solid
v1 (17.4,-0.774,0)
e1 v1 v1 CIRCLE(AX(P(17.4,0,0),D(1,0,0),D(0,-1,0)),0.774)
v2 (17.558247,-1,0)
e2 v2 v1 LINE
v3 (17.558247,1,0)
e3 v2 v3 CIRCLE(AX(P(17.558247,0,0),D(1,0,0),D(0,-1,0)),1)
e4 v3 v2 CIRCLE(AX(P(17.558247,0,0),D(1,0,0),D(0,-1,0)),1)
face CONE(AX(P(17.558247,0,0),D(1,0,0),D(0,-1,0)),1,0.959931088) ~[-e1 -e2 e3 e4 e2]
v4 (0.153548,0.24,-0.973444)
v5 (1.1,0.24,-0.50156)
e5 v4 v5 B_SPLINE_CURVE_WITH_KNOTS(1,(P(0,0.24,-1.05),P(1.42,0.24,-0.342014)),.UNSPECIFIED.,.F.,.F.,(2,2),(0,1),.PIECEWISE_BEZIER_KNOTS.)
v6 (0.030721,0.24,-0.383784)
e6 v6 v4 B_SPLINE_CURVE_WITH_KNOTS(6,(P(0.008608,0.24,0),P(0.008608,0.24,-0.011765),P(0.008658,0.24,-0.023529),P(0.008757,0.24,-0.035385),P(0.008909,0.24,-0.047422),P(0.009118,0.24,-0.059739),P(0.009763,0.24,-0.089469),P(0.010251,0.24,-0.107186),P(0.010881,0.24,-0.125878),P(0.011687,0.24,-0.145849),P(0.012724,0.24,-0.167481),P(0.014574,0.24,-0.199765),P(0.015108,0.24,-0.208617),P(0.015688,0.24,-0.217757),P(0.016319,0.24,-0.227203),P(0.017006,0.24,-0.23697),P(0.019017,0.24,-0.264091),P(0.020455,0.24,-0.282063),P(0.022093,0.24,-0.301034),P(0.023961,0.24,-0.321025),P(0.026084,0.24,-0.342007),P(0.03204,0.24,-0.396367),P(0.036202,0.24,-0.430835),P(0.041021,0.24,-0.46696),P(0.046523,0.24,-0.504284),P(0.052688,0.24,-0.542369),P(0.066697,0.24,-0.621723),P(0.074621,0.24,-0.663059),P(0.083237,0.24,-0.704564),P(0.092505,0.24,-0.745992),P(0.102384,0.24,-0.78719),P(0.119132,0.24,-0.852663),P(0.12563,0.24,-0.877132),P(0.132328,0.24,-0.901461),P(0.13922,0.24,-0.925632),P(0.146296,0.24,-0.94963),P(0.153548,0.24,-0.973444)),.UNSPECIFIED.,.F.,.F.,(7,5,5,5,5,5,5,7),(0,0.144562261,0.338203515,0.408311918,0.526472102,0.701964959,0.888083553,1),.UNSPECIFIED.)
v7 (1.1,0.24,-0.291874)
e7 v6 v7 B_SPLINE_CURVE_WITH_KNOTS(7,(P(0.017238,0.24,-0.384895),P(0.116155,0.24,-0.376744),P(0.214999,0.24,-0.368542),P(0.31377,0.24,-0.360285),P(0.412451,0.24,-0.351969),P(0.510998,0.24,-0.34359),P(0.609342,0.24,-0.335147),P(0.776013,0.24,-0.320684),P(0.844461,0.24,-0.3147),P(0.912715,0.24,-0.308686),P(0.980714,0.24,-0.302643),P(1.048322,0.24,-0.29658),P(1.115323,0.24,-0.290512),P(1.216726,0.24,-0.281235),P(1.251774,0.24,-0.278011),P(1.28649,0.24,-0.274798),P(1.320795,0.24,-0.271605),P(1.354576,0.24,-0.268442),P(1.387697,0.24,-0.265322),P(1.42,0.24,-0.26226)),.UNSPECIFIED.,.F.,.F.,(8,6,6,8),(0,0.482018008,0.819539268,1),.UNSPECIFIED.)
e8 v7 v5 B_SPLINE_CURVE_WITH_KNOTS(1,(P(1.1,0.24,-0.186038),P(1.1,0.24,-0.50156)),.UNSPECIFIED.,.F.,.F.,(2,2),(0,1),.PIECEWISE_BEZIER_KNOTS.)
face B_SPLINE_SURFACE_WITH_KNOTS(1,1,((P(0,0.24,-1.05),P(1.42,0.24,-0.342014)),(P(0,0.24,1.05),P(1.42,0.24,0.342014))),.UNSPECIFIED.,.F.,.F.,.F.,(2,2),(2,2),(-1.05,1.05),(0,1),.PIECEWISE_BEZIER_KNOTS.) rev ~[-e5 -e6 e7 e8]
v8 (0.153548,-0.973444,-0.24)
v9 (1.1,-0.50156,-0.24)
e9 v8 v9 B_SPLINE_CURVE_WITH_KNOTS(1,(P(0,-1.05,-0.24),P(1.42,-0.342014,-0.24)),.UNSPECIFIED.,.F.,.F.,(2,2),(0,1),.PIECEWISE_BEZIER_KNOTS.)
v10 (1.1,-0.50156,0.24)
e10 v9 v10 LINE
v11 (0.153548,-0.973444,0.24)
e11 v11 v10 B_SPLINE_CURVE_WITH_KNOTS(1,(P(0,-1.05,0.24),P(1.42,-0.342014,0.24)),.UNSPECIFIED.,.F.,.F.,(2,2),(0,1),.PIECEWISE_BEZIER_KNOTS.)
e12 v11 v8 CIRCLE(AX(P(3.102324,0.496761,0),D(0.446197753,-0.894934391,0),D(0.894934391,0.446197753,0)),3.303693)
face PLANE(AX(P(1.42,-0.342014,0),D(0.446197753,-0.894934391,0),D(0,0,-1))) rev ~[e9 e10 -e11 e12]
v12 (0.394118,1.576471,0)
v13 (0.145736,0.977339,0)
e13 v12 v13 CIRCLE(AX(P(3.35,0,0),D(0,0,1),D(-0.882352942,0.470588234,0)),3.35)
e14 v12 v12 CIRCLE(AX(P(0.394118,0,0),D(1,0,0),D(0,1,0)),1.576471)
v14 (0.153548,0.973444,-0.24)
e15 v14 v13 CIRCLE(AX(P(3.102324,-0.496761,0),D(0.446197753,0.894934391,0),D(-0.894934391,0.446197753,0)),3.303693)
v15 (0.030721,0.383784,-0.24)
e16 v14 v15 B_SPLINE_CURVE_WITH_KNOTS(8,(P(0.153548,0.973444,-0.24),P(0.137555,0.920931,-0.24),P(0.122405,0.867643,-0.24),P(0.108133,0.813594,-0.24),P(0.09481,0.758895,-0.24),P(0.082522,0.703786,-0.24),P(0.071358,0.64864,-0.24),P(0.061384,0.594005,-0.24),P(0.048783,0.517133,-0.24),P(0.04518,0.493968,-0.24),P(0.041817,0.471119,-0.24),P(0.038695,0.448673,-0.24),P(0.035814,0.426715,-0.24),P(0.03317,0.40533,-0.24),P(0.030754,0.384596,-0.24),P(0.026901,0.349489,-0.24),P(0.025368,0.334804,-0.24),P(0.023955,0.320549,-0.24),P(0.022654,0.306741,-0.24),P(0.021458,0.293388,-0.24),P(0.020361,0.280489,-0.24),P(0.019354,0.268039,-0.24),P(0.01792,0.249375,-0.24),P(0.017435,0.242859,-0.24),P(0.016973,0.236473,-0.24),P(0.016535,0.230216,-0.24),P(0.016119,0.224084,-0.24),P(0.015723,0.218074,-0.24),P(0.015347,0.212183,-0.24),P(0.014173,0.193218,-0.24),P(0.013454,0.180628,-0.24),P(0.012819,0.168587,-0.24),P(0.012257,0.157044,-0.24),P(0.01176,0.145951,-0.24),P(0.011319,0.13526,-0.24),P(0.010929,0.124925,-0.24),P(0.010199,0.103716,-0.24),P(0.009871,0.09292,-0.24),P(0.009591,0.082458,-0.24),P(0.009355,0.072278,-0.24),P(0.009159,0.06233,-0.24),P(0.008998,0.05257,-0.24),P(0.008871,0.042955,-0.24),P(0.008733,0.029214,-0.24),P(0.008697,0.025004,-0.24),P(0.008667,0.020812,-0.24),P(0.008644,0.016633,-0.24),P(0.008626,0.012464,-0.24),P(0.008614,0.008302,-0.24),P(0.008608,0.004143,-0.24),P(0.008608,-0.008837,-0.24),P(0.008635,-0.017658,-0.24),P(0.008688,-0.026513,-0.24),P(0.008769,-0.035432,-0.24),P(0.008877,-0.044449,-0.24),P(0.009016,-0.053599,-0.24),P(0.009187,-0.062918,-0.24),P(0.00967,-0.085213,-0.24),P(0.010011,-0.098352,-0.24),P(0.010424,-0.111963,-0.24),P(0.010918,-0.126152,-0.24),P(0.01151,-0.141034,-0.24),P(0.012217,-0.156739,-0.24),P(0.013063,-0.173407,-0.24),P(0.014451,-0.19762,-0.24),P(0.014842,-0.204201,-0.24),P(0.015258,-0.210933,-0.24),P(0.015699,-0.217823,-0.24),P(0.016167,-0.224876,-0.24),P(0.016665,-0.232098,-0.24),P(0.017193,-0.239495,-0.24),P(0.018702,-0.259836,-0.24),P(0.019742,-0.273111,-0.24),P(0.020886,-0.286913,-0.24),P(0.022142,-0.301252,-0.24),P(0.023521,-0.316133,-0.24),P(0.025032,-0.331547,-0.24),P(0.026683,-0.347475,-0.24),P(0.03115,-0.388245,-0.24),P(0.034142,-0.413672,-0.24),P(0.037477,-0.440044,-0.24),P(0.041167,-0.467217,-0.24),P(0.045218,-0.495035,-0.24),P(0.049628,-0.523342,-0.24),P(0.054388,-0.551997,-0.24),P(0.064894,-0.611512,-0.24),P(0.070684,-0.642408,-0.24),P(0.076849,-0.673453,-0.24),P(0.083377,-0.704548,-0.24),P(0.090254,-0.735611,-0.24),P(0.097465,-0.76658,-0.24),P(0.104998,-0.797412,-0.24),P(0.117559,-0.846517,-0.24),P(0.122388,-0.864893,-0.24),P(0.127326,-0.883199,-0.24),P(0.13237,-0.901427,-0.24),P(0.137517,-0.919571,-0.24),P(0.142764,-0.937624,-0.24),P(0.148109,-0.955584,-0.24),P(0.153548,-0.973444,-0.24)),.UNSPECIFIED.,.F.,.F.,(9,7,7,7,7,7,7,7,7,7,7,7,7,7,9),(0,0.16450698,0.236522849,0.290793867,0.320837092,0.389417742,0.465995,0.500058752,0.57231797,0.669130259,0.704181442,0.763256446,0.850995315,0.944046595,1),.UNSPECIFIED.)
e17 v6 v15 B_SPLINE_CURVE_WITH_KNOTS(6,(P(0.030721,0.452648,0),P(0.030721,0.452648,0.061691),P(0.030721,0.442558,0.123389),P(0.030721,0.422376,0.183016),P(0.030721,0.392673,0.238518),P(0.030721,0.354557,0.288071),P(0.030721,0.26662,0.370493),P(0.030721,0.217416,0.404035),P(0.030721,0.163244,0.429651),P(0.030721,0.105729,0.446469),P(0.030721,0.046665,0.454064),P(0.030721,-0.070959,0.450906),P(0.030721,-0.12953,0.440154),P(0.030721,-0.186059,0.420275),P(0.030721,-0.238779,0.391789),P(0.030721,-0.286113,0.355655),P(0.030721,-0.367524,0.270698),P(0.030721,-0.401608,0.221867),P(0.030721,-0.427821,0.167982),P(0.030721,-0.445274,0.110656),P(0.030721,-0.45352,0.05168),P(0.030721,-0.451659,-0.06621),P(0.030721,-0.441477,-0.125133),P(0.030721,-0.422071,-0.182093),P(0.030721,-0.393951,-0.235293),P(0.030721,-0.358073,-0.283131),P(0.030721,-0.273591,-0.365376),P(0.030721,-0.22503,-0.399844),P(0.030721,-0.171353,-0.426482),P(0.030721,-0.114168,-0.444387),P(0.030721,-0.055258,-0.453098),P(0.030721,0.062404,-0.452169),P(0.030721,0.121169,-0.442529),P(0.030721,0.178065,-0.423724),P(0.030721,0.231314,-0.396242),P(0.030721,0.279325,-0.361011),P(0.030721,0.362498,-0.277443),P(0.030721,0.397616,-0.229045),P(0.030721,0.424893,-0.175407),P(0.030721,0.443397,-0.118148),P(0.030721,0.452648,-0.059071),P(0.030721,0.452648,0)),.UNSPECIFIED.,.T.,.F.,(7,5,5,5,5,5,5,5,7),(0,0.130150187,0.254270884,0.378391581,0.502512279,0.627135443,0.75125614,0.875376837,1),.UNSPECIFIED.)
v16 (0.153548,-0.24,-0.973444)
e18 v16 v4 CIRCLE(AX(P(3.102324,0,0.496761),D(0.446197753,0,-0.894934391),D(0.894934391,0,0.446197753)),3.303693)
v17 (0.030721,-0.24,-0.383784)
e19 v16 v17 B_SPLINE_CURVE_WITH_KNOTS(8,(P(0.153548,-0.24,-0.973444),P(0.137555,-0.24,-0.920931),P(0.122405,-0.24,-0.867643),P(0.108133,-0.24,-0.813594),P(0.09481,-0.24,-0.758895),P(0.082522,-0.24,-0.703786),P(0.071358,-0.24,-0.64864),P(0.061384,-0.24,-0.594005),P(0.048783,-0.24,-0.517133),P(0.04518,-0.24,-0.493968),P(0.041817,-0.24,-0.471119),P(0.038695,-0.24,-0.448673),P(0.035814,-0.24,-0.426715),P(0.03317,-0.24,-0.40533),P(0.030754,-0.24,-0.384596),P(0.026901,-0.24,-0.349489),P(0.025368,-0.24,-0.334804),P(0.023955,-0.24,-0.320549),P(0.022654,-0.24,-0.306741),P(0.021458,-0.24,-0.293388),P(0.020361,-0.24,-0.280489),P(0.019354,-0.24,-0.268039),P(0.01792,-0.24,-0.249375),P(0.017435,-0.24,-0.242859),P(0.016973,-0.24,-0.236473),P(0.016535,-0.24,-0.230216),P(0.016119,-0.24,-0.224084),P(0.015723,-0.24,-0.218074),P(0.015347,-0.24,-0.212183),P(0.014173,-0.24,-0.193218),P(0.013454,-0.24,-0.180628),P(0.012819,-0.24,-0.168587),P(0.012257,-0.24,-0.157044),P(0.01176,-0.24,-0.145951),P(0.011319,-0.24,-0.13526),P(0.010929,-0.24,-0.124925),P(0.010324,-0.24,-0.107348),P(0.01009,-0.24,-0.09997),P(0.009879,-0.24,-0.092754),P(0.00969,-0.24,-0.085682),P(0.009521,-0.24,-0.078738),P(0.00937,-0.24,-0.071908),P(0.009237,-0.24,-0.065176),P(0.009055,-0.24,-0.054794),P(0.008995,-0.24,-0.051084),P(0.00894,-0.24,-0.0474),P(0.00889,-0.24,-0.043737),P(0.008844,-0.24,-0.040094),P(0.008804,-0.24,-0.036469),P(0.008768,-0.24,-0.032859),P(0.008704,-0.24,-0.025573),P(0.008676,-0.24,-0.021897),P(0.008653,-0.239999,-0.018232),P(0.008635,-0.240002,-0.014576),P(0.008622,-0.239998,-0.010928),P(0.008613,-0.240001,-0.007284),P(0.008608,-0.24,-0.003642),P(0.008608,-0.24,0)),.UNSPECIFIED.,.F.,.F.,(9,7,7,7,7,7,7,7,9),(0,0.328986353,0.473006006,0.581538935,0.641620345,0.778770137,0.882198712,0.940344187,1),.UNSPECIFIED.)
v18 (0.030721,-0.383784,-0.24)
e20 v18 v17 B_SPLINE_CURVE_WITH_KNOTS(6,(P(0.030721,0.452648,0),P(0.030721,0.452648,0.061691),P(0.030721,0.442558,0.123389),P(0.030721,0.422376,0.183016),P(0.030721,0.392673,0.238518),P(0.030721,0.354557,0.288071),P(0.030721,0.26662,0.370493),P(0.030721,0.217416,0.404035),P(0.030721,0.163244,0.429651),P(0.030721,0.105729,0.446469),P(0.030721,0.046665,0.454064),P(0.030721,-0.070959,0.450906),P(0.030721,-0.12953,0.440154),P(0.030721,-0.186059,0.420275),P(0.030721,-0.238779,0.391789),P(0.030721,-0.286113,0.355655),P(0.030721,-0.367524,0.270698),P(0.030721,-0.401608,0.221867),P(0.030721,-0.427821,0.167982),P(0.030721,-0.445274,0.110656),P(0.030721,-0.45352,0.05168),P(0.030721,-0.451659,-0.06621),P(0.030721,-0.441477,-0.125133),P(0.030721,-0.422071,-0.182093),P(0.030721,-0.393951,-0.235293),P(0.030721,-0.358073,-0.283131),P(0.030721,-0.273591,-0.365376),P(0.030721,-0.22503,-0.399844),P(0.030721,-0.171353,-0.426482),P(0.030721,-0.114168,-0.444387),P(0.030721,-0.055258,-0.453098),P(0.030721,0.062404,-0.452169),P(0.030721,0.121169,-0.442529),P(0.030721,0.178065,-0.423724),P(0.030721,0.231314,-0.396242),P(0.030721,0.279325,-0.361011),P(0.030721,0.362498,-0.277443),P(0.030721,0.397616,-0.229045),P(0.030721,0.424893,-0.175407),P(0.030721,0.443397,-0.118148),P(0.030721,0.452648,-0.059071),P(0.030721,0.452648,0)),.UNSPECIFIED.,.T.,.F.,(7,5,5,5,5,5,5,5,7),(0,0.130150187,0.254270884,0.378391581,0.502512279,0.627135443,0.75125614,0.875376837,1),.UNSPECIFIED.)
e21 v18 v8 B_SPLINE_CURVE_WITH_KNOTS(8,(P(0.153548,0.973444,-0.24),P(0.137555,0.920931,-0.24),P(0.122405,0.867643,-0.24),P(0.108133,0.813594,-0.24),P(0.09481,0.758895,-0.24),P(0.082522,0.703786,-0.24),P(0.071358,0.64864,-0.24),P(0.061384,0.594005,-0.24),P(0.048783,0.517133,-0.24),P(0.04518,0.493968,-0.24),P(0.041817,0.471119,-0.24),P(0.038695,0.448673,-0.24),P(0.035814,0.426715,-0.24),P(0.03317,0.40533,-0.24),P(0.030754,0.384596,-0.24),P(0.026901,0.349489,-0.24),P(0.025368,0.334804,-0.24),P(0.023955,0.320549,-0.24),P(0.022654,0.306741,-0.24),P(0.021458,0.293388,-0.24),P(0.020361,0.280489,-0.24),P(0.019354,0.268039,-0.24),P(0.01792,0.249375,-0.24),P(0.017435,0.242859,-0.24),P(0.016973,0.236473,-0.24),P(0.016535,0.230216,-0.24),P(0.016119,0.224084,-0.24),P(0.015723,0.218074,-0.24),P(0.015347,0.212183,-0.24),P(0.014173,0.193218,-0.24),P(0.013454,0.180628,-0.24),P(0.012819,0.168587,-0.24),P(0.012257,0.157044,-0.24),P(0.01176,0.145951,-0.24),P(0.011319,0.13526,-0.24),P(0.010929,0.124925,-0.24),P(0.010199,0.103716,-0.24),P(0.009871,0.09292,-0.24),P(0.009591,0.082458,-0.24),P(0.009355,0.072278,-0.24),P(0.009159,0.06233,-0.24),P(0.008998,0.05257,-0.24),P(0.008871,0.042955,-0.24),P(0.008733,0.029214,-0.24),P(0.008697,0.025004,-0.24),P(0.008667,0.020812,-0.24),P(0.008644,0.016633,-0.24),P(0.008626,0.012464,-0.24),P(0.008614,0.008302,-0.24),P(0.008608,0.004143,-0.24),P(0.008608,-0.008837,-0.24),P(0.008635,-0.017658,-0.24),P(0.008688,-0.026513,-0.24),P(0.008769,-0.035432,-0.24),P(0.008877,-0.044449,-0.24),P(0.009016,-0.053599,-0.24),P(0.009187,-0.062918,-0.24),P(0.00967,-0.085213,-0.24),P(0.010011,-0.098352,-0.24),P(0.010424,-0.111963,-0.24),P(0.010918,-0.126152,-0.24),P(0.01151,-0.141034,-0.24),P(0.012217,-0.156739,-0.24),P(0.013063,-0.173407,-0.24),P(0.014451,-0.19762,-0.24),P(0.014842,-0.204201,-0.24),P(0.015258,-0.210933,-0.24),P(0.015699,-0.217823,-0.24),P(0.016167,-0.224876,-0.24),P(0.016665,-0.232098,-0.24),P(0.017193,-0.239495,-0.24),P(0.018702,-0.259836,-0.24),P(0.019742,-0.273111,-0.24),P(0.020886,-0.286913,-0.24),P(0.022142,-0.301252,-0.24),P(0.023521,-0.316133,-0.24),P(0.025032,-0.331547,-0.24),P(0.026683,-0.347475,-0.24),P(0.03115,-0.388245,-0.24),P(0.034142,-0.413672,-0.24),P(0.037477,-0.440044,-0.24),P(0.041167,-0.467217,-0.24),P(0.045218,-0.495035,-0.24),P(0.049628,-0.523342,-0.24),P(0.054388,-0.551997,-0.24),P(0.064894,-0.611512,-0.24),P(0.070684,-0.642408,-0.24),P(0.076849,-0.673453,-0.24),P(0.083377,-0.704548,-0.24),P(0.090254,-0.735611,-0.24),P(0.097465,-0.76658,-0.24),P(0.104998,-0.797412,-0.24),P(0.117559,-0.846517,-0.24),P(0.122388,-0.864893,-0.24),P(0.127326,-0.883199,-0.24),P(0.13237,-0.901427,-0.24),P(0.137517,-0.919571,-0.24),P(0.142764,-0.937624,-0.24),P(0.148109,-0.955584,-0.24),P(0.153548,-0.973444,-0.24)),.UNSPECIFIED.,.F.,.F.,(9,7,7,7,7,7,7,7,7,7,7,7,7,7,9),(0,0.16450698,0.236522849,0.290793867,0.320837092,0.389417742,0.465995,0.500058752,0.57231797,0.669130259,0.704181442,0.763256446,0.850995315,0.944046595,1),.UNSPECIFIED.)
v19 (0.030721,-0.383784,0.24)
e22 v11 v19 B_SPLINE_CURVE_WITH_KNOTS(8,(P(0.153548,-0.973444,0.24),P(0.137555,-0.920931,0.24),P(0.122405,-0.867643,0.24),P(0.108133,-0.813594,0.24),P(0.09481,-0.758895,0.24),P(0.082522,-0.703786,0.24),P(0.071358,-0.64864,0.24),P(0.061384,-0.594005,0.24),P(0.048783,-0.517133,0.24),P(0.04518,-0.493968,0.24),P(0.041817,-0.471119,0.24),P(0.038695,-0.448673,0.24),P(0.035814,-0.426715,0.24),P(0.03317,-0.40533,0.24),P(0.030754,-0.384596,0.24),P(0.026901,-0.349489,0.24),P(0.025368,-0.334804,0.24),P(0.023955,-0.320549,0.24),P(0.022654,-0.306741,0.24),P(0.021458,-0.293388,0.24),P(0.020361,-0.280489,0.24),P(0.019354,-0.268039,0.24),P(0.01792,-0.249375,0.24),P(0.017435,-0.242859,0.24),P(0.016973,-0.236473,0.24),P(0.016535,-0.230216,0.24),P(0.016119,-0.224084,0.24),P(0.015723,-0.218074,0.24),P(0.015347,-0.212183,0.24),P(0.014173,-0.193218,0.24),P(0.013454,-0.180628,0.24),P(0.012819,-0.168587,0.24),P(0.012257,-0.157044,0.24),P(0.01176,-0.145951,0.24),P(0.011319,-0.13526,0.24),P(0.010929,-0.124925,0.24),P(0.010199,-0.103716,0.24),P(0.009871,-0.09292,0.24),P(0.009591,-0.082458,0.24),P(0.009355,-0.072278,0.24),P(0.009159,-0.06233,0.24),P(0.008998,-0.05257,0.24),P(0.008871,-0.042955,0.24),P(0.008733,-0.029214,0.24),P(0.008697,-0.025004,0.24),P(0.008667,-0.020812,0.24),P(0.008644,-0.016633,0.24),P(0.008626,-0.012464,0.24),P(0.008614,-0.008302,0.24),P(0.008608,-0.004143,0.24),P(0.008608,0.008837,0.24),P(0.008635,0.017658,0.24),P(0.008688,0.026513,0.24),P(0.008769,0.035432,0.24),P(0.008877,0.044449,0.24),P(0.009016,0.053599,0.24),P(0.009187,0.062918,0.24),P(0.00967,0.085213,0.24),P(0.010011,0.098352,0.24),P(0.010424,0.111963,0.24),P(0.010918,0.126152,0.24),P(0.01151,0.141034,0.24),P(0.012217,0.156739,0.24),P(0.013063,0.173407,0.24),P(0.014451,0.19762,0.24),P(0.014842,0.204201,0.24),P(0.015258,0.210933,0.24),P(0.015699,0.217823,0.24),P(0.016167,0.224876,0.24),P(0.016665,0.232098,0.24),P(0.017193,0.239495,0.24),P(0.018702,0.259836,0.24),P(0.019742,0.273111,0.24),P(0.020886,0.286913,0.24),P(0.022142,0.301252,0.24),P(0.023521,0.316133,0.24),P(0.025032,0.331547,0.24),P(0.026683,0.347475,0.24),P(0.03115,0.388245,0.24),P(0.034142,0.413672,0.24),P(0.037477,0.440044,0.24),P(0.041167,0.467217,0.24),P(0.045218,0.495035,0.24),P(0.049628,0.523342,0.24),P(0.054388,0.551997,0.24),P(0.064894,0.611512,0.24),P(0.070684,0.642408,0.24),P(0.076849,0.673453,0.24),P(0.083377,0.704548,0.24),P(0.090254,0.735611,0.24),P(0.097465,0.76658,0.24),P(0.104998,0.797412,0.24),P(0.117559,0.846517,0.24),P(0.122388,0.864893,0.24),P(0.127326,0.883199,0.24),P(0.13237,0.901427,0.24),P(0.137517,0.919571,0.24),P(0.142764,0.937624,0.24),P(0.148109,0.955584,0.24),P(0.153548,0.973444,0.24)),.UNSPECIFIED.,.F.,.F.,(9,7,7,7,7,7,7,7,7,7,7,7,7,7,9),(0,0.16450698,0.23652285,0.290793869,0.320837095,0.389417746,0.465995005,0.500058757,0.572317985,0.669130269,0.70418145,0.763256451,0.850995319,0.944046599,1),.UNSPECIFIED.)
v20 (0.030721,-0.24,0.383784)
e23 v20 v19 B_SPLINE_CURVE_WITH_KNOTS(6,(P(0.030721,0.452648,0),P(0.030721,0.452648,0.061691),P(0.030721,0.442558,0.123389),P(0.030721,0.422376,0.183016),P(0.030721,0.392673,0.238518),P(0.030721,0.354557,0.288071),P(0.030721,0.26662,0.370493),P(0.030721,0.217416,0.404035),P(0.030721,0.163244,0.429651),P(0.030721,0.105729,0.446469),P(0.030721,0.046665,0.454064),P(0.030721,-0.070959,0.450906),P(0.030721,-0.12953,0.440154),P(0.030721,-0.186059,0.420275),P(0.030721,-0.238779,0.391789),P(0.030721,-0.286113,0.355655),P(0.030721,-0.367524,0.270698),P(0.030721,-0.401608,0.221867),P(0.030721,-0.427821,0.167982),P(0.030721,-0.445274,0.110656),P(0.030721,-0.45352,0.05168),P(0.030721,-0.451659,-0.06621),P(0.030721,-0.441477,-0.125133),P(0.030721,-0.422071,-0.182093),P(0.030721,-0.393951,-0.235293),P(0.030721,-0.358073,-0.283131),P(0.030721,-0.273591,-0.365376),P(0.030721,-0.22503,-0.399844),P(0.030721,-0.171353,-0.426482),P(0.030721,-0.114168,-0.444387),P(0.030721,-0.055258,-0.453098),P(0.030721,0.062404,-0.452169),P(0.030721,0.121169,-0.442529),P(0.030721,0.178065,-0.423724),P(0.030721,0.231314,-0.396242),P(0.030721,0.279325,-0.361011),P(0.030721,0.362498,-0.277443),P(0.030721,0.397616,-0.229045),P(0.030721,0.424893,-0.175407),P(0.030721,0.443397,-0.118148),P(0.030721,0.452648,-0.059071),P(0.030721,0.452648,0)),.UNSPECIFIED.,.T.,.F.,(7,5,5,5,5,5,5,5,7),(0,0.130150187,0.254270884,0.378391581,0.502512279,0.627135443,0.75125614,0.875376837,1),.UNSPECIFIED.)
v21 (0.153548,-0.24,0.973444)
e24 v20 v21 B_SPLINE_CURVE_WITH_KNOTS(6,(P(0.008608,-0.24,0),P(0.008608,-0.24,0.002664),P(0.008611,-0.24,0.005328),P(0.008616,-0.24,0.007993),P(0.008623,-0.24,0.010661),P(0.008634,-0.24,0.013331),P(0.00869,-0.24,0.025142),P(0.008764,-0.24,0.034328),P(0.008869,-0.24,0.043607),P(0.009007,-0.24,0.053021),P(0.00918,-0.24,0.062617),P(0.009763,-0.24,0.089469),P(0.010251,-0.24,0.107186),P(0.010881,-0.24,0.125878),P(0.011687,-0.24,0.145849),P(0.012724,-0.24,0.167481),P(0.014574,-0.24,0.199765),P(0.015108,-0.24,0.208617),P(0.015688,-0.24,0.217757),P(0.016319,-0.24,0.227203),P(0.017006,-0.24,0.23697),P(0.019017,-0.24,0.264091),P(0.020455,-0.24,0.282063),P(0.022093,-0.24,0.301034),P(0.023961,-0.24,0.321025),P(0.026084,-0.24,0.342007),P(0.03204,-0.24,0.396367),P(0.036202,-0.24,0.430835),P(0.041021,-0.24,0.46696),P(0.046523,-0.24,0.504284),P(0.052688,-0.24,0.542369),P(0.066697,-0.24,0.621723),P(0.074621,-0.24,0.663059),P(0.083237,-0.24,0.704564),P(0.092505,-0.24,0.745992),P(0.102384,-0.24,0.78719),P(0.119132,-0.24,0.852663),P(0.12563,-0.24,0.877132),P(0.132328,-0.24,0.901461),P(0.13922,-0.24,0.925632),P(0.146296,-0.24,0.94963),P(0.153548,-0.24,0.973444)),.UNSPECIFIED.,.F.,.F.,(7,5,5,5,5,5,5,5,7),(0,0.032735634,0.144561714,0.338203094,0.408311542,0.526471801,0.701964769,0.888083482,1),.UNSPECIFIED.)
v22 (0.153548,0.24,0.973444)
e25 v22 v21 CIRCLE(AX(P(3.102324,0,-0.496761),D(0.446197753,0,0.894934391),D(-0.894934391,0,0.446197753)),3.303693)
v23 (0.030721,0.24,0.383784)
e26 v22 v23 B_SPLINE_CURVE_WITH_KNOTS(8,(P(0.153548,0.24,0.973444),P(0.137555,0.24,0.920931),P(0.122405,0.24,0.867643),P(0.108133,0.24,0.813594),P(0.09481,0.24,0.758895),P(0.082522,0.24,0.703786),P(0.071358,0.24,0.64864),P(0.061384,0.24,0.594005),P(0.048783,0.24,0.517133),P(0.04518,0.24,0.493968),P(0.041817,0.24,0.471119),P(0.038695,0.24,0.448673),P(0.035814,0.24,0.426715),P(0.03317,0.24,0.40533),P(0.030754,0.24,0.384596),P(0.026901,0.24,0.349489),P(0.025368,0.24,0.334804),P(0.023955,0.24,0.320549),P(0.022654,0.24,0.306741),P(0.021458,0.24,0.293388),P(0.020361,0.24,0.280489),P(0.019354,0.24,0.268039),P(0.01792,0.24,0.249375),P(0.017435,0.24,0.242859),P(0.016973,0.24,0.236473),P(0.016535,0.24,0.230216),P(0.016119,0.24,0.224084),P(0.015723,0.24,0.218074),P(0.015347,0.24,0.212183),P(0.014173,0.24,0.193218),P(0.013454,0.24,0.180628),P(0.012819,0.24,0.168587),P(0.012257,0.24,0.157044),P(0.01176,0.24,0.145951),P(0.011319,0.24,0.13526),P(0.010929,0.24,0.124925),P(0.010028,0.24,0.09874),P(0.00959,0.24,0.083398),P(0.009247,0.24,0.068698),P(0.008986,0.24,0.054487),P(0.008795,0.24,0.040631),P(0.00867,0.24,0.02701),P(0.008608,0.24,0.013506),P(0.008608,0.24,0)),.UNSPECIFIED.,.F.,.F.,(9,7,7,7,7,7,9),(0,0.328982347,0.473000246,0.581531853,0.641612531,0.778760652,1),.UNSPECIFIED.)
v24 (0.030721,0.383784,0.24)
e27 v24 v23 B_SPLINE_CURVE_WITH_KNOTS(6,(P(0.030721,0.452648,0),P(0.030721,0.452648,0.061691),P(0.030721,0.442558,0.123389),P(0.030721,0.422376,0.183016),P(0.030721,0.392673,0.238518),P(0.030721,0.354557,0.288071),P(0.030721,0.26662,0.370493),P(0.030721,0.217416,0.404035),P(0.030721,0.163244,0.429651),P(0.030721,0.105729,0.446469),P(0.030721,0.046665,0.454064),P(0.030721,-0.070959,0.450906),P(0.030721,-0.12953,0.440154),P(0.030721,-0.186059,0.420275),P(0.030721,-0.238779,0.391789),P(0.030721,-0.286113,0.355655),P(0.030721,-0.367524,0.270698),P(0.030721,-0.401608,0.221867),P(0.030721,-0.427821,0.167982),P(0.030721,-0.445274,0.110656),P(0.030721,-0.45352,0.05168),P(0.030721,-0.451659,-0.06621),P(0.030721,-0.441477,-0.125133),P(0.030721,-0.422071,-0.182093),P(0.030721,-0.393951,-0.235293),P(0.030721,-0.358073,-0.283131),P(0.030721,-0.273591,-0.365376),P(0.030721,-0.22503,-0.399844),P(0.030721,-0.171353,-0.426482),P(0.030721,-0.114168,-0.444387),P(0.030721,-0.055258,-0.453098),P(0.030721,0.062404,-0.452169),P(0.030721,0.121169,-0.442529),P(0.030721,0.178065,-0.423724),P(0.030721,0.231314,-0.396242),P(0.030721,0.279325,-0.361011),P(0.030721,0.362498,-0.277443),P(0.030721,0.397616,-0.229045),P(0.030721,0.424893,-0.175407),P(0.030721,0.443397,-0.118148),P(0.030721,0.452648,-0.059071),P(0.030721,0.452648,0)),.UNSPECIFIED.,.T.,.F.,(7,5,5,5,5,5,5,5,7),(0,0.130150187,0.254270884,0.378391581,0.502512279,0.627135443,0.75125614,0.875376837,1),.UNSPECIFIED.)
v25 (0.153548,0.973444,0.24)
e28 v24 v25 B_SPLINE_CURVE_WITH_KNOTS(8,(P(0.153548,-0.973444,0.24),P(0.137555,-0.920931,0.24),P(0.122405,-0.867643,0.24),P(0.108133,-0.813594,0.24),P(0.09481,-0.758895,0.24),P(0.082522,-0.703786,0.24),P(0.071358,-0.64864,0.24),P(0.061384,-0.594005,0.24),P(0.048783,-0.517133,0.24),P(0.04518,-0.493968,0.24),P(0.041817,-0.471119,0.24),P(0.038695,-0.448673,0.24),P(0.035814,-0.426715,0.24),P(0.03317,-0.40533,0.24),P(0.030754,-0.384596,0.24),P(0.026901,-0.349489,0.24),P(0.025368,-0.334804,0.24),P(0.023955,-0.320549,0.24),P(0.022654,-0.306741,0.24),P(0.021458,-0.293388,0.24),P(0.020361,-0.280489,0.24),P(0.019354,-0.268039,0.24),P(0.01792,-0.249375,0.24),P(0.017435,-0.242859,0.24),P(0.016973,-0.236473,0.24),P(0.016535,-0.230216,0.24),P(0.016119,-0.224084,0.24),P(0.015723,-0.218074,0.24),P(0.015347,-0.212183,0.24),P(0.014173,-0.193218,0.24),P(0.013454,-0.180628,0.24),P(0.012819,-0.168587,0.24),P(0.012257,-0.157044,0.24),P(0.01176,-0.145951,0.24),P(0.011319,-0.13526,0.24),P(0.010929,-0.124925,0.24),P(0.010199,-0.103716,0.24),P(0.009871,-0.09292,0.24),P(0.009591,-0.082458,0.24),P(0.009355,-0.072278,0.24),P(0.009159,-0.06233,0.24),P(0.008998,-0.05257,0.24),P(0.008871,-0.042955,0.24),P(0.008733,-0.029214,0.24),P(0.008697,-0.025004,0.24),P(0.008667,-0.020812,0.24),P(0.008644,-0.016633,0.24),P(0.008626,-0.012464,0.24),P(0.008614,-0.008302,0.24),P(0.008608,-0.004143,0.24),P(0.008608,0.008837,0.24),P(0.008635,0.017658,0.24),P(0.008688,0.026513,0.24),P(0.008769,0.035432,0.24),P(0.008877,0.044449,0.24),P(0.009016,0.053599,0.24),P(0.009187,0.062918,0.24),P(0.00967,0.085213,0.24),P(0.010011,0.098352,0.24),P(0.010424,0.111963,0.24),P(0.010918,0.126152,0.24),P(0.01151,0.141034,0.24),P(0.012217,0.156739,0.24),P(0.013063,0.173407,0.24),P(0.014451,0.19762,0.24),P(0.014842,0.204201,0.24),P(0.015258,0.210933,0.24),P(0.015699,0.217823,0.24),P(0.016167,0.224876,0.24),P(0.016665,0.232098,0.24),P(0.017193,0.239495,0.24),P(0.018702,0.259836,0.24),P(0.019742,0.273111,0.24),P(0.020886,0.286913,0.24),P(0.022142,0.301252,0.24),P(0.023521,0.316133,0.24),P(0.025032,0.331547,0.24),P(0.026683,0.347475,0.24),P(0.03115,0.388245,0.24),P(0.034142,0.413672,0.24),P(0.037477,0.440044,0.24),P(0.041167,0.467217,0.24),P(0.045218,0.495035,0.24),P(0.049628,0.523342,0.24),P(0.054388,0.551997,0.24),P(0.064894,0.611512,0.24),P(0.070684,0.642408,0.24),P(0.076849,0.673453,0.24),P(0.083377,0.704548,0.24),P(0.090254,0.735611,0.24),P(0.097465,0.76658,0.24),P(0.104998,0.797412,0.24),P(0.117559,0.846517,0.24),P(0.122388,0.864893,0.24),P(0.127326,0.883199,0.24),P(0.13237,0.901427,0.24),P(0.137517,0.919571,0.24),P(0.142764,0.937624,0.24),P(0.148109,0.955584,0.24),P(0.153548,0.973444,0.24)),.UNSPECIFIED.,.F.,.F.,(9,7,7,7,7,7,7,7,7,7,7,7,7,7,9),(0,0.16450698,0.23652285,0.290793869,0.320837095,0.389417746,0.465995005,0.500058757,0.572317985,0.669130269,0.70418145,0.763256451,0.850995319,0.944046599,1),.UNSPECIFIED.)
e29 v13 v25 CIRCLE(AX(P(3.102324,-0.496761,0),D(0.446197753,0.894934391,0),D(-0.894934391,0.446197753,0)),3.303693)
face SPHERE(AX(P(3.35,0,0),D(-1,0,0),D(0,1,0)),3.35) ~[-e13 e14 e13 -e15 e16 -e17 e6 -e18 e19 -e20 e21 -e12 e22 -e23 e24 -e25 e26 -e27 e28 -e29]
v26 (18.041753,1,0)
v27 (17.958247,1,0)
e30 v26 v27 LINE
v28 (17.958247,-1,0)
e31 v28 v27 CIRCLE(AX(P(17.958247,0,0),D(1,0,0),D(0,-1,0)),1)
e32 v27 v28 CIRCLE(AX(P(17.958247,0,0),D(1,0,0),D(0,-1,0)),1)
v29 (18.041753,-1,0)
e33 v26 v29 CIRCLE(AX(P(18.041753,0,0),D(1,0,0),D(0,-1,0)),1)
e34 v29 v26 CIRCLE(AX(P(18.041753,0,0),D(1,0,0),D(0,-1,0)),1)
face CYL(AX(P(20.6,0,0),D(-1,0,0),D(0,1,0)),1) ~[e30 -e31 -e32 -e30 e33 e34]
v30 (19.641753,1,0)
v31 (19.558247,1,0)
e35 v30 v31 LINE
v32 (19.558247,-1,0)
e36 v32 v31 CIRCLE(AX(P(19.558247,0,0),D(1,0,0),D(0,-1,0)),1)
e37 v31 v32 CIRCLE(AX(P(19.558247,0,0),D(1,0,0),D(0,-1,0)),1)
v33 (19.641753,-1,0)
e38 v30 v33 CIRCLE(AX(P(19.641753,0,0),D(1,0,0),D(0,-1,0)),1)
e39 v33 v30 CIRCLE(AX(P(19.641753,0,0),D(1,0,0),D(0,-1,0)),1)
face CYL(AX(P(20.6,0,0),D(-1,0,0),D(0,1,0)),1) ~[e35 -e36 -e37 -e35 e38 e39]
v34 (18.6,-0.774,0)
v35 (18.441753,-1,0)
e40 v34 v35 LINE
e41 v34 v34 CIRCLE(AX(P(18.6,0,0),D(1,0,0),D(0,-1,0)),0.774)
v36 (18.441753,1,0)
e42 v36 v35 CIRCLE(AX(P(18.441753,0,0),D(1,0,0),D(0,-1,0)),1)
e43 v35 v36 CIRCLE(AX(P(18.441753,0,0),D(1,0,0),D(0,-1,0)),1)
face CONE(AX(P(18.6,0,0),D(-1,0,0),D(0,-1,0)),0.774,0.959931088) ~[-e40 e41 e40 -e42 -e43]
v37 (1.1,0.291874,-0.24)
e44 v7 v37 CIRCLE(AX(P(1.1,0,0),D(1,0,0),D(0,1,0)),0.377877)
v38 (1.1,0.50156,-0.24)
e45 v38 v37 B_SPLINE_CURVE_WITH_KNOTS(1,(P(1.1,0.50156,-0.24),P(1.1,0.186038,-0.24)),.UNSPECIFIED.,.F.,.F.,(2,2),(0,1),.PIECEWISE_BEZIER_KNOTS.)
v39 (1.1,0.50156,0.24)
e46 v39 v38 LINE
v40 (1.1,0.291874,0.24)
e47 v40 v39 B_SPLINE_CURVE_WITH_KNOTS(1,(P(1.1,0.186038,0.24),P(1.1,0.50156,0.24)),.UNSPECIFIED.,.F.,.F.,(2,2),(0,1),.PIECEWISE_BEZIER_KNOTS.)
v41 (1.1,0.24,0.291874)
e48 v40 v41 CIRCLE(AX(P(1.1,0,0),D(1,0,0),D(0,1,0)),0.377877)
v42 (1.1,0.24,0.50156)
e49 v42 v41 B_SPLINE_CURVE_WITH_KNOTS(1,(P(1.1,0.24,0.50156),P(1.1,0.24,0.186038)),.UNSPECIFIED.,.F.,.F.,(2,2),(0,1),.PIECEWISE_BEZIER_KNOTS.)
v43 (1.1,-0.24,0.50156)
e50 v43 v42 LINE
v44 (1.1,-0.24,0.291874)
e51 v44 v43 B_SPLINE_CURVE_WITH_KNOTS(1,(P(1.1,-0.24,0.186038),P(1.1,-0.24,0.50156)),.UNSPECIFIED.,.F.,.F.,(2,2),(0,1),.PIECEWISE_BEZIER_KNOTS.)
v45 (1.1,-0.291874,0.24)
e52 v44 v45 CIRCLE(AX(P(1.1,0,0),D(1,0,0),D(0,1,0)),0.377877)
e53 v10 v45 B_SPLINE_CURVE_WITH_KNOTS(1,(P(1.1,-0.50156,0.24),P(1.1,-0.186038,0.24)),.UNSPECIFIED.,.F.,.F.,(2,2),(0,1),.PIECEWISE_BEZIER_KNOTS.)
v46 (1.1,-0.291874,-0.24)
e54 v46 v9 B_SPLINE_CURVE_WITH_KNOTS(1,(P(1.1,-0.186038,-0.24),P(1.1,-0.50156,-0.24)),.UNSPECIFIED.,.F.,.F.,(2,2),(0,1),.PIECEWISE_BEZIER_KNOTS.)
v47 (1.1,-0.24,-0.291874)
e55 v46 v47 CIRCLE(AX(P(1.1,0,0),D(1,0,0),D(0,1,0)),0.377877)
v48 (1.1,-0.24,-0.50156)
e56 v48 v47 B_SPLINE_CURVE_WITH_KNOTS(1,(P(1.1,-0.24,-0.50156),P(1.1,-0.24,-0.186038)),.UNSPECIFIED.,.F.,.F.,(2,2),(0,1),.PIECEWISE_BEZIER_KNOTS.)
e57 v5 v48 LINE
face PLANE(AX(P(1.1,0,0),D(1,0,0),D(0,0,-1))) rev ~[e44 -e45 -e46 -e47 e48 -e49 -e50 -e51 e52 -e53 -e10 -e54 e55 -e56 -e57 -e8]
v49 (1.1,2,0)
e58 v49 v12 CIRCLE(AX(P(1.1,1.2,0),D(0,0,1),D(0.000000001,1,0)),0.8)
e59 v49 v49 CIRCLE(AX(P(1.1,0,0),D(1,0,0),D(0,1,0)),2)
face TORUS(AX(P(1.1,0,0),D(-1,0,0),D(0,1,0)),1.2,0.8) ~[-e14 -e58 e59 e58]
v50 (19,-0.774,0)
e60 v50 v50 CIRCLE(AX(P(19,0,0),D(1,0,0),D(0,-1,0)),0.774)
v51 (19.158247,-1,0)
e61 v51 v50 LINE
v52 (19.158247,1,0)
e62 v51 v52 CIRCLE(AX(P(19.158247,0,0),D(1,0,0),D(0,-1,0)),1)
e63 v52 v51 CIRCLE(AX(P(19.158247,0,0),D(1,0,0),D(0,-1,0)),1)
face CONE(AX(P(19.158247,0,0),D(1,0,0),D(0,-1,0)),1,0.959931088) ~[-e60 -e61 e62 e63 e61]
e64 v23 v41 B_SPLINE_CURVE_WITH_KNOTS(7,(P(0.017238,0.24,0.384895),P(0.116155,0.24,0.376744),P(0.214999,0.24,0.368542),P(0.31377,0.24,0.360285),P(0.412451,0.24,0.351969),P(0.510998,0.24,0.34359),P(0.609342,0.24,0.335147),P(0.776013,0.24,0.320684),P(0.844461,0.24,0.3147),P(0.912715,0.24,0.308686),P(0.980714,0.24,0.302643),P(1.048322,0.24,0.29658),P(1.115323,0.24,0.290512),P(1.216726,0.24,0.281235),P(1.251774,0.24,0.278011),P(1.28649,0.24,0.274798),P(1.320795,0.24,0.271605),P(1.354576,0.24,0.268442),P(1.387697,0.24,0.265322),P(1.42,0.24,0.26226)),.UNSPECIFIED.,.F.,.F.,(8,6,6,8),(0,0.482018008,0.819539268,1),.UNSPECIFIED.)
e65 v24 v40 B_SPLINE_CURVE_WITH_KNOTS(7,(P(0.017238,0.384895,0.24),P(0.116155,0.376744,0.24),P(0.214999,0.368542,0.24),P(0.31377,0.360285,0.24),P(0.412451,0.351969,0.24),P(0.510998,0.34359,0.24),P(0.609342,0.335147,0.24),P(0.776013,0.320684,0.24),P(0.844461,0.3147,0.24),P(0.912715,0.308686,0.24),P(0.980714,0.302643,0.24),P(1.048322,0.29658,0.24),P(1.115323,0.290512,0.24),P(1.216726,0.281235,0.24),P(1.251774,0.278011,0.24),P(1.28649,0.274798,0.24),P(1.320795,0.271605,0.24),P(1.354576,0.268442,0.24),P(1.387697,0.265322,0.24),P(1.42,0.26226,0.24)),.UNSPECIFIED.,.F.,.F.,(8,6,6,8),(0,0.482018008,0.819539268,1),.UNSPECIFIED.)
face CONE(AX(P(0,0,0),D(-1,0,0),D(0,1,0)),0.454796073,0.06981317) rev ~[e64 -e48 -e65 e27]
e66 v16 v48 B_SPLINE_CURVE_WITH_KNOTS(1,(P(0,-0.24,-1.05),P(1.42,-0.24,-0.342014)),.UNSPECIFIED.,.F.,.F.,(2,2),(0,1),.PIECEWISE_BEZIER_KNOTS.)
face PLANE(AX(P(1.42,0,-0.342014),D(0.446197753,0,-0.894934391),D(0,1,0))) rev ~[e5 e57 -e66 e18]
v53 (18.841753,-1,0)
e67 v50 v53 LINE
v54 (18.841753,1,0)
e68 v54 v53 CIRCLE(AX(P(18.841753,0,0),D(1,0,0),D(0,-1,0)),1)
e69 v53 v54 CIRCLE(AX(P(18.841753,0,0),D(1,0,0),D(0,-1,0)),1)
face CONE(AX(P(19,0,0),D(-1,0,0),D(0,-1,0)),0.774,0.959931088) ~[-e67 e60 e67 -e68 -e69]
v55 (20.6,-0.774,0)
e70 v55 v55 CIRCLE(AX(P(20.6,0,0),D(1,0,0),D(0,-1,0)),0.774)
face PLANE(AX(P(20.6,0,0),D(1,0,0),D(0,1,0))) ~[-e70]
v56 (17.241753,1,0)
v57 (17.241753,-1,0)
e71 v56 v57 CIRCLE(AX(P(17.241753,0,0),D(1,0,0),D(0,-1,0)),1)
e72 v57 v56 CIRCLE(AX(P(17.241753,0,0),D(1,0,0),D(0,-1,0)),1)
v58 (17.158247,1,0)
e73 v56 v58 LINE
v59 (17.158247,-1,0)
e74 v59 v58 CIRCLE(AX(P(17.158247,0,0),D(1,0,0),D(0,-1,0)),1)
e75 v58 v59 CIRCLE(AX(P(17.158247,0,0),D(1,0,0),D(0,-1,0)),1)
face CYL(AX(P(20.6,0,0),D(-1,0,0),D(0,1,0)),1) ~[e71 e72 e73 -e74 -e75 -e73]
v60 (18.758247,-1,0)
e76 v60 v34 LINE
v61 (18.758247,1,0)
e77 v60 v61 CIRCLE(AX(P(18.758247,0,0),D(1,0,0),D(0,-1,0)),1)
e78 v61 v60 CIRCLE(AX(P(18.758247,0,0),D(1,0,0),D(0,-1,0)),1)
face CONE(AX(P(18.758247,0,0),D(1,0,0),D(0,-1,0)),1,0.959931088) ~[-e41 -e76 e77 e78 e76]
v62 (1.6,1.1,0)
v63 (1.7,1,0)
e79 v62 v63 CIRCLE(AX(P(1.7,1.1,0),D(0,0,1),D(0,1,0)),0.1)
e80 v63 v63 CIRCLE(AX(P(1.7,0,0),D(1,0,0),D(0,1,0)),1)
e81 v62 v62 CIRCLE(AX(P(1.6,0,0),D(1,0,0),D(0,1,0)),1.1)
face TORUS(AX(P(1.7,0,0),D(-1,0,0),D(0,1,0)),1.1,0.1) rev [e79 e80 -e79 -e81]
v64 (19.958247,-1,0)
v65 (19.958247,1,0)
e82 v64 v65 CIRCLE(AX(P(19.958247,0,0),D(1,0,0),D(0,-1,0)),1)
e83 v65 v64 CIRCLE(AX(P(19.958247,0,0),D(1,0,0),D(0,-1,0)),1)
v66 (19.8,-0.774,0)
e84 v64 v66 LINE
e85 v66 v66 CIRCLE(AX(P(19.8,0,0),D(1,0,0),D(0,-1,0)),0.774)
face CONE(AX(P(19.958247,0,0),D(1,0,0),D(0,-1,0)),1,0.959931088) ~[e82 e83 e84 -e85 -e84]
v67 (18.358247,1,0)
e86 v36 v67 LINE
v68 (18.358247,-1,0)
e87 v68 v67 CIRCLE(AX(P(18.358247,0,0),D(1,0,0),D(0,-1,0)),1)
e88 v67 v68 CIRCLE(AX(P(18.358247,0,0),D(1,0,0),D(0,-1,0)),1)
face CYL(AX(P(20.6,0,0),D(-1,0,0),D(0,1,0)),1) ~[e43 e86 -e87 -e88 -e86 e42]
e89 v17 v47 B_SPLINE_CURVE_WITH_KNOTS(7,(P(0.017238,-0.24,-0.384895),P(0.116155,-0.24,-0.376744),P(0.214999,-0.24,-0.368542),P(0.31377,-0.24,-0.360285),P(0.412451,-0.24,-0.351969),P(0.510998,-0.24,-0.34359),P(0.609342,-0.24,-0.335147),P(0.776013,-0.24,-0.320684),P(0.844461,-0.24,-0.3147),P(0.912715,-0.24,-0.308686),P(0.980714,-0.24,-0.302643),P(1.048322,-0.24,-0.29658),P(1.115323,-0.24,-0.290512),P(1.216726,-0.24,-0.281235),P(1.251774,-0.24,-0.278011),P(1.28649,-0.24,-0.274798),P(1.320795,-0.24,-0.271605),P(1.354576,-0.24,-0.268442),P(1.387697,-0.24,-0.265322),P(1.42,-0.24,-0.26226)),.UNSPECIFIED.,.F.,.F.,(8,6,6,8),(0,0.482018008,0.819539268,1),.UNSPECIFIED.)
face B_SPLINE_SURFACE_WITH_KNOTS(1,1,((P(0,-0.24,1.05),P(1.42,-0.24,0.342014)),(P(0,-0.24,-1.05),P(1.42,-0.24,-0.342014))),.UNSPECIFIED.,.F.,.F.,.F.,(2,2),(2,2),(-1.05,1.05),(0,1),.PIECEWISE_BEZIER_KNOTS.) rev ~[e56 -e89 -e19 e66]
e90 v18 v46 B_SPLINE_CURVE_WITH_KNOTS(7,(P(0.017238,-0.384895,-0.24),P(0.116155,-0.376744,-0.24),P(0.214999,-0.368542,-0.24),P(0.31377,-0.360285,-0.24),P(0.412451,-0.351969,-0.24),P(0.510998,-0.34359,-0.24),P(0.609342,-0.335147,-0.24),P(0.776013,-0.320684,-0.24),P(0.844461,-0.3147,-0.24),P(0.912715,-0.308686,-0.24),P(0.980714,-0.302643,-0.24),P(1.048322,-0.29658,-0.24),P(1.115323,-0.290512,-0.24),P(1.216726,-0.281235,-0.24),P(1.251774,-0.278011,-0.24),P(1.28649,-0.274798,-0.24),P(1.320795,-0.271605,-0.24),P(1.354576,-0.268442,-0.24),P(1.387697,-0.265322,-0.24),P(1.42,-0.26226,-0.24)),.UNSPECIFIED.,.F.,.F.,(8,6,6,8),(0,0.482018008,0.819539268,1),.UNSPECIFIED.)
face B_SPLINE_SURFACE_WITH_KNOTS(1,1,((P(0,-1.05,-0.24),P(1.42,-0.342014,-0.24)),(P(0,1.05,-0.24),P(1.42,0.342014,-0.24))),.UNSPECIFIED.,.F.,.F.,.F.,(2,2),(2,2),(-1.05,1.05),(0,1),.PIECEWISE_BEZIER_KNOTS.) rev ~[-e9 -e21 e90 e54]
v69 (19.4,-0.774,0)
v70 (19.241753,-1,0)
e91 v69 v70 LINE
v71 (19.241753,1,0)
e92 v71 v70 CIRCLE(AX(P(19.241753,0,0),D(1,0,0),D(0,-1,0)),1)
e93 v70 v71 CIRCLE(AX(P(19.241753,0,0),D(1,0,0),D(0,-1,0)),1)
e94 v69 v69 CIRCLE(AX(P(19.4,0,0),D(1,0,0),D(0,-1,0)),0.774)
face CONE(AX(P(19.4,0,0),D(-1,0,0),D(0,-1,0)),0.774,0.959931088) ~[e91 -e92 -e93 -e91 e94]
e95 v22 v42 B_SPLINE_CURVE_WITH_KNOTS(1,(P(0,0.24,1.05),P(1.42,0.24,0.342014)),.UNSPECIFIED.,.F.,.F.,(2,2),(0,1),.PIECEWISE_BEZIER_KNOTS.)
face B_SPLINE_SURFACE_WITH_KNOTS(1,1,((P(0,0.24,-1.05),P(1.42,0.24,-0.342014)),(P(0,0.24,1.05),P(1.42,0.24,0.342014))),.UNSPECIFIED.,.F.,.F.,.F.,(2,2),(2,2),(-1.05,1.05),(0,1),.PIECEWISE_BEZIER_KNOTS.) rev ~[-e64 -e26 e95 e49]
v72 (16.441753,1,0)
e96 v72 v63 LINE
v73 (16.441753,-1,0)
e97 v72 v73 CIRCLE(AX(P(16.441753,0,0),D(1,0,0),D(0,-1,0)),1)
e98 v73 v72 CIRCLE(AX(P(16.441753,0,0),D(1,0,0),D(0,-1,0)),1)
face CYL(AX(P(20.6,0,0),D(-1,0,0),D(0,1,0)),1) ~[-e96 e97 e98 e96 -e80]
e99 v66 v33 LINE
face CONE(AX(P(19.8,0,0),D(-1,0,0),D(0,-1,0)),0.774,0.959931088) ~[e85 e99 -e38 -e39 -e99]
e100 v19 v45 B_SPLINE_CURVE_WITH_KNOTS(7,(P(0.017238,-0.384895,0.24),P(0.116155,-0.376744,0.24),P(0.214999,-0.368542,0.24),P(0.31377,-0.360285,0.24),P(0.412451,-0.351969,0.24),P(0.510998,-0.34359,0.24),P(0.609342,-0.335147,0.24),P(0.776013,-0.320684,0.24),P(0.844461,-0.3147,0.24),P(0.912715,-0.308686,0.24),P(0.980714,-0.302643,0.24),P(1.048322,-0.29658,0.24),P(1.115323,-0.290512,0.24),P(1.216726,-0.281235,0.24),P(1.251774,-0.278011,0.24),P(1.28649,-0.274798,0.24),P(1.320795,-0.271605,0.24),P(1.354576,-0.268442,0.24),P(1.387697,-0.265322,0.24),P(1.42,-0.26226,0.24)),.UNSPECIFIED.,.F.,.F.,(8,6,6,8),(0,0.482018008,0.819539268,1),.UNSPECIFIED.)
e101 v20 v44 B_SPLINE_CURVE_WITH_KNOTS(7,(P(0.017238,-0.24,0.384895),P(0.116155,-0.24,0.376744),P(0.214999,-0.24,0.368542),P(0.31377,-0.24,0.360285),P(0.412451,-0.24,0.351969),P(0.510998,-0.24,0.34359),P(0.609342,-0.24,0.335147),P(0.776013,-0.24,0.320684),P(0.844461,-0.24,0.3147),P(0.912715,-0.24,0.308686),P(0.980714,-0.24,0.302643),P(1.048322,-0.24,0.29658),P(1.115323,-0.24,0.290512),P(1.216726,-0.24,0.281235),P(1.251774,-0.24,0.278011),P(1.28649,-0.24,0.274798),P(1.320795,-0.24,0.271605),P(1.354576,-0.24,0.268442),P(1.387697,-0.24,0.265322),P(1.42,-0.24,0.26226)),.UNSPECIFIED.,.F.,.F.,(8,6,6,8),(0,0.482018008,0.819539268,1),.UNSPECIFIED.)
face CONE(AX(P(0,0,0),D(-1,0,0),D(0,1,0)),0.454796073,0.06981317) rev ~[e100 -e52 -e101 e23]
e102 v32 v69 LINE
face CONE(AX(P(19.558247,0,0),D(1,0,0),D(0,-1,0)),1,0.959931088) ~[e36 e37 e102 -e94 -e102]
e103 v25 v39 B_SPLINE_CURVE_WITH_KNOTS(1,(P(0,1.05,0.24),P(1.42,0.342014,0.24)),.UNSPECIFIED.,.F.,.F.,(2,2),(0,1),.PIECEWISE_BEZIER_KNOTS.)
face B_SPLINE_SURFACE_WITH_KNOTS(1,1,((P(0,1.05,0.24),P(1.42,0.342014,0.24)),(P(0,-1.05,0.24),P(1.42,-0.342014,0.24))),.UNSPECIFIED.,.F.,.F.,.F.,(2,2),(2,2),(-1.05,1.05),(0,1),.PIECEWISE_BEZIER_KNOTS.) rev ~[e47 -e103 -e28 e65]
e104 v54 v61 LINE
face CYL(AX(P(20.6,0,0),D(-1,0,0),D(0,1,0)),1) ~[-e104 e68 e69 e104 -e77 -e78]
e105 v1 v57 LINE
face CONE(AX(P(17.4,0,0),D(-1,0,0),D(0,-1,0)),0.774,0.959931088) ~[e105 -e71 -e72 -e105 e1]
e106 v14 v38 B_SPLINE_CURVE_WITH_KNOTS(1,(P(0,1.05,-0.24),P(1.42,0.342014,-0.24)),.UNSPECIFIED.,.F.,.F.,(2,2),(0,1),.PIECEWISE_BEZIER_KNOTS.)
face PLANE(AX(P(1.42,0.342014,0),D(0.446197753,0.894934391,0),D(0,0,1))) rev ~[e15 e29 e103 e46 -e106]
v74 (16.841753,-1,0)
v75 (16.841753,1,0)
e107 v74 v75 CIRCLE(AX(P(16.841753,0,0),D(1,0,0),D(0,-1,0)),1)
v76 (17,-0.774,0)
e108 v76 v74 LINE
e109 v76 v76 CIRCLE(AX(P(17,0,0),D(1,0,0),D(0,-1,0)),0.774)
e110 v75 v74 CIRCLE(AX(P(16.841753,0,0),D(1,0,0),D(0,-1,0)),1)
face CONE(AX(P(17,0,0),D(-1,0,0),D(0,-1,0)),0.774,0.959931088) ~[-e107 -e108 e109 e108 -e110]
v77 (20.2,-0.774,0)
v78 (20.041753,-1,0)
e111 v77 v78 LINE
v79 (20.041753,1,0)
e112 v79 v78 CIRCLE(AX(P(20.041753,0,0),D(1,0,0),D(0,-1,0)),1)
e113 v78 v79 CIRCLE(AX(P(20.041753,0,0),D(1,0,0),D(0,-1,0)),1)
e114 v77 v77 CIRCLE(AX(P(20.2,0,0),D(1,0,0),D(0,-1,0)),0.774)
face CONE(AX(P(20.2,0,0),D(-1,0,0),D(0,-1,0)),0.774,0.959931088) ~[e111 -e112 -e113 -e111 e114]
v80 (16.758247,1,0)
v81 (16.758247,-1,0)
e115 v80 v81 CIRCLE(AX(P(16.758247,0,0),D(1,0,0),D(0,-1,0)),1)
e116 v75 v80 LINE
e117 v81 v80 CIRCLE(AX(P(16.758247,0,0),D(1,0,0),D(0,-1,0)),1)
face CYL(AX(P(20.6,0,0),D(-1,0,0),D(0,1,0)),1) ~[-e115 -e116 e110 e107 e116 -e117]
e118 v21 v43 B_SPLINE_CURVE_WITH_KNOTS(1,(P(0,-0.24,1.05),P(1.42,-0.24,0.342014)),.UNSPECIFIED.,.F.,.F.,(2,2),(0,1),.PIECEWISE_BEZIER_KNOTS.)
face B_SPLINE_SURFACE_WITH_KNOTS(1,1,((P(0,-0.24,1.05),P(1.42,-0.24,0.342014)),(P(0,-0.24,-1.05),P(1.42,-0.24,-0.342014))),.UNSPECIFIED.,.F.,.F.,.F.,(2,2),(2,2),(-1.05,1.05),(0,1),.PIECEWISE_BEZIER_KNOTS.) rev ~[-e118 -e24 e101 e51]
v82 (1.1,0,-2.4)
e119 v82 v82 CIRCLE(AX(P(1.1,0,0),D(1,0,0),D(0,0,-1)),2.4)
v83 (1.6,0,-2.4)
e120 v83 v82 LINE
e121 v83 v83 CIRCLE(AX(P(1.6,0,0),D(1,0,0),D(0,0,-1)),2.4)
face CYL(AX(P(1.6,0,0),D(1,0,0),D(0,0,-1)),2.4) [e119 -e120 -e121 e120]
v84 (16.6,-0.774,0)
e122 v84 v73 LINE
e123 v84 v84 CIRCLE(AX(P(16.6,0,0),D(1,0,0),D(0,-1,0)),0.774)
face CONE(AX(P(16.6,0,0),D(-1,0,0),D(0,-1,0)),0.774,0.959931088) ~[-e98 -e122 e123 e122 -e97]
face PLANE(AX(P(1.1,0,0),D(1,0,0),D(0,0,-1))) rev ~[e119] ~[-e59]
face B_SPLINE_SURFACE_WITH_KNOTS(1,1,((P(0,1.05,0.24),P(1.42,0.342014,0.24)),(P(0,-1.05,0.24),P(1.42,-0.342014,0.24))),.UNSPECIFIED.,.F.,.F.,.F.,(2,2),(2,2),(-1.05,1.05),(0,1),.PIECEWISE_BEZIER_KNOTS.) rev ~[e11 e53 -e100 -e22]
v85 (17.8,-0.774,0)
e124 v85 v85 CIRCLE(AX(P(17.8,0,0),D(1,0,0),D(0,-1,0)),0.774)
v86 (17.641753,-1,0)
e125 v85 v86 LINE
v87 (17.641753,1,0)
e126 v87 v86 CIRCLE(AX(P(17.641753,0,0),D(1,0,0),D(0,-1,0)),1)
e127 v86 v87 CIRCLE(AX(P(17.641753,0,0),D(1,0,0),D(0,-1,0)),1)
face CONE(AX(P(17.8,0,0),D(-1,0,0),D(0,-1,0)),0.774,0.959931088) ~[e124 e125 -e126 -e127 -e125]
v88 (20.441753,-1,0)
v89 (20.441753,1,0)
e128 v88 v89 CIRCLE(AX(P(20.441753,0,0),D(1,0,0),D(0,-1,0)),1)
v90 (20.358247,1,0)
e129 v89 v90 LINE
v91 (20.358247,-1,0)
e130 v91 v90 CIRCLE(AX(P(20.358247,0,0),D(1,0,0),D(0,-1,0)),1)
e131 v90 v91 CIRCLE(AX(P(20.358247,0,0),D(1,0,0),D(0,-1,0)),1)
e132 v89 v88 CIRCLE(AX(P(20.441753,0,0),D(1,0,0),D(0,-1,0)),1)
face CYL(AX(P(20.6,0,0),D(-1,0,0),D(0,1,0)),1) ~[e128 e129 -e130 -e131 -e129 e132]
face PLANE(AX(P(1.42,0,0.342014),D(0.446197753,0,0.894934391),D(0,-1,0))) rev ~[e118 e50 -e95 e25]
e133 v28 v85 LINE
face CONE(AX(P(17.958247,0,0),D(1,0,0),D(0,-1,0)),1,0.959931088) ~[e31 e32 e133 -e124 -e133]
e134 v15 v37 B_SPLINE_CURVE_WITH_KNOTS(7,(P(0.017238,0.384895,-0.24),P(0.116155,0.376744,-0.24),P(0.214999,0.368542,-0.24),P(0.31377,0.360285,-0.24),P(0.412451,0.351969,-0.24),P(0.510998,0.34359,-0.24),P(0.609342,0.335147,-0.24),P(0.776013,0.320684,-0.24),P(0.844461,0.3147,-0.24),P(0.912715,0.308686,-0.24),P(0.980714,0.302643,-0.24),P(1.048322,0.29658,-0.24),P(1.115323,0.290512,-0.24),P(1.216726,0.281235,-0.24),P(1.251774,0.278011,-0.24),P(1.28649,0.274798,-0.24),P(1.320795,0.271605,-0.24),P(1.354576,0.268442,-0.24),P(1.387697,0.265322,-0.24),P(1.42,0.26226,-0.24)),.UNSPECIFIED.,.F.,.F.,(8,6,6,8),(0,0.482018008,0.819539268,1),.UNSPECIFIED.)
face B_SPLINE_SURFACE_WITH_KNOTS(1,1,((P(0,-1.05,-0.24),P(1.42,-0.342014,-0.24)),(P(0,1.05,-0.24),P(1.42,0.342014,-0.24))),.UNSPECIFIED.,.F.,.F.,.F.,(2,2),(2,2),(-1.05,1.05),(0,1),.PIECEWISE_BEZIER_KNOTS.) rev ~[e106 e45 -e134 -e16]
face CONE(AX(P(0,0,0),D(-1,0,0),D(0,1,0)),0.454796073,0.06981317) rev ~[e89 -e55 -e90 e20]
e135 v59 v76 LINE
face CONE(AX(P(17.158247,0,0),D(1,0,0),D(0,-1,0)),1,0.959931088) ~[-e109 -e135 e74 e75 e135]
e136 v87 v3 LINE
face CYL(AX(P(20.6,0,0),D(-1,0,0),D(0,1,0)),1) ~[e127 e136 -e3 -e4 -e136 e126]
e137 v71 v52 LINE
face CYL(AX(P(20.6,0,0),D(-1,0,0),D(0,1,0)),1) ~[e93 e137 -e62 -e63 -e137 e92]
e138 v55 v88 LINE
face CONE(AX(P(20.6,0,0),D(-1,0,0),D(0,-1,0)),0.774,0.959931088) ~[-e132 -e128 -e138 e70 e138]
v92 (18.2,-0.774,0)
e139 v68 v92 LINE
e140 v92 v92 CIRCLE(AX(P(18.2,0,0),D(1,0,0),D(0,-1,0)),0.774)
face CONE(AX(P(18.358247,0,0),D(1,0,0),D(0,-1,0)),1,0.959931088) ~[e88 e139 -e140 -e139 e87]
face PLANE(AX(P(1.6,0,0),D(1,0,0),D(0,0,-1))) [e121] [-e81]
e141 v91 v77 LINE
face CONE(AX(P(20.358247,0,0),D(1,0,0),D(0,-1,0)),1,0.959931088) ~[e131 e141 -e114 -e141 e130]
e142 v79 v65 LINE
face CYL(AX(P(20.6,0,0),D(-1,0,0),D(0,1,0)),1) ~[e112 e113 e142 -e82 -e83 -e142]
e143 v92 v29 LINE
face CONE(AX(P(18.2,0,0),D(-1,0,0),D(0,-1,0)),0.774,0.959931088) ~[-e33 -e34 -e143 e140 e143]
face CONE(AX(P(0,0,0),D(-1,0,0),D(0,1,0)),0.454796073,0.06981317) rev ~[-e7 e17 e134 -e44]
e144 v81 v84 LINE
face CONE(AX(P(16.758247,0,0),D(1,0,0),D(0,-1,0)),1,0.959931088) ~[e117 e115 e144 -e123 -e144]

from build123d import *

# Parameters (mm, degrees)
FILLET1_R                = 0.1
SKETCH3_W                = 0.48
SKETCH3_H                = 2.1
SKETCH4_W                = 0.48
SKETCH4_H                = 0.68402847
RECPAT_COUNT             = 2
RECPAT_ANGLE             = 90
THDSCHPAT_COUNT          = 11
THDSCHPAT_PITCH          = 0.4
ESBO_O1_R                = 2.4
RESSALTO_EXTRUS_O1_DEPTH = 0.5


with BuildPart() as part:
    # BodySke → Base-Revolve (revolve)
    with BuildSketch(Plane.XY):
        with BuildLine():
            Line((1.6, 1), (1.6, 2))
            Line((1.6, 2), (1.1, 2))
            ThreePointArc((1.1, 2), (0.688403396, 1.885994341), (0.394117647, 1.576470588))
            ThreePointArc((0.394117647, 1.576470588), (0.100022625, 0.812494344), (0, 0))
            Line((0, 0), (20.6, 0))
            Line((20.6, 0), (20.6, 1))
            Line((20.6, 1), (1.6, 1))
        make_face()
    revolve(axis=Axis((-25.4, 0, 0), (1, 0, 0)))

    # Fillet1
    fillet1_edges = [part.edges().sort_by_distance(p)[0] for p in [
        (1.6, -1, 0),
    ]]
    fillet(fillet1_edges, radius=FILLET1_R)

    # Sketch3 → Recess section 0
    with BuildSketch(Plane(origin=(0, 0, 0), x_dir=(0, 0, -1), z_dir=(1, 0, 0))):
        Rectangle(SKETCH3_W, SKETCH3_H)
    # Sketch4 → Recess section 1
    with BuildSketch(Plane(origin=(1.42, 0, 0), x_dir=(0, 0, -1), z_dir=(1, 0, 0))):
        Rectangle(SKETCH4_W, SKETCH4_H)
    recess = loft(mode=Mode.SUBTRACT)

    # RecPat: Recess ×2 about axis
    recpat_axis = Axis((0, 0, 0), (1, 0, 0))
    for i in range(1, RECPAT_COUNT):
        add(recess.rotate(recpat_axis, i * RECPAT_ANGLE / (RECPAT_COUNT - 1)), mode=Mode.SUBTRACT)

    # RecCorSke → RecessCore (revolve, cut)
    with BuildSketch(Plane.XY):
        Polygon((0, 0), (0, 0.454796073), (1.42, 0.3555), (1.535508952, 0), align=None)
    revolve(axis=Axis((-3.175, 0, 0), (1, 0, 0)), mode=Mode.SUBTRACT)

    # ThdSchSke → ThreadSchematic (revolve, cut)
    with BuildSketch(Plane.XY):
        Polygon((16.6, -0.774), (16.441753096, -1), (16.441753096, -1.25), (16.758246904, -1.25), (16.758246904, -1), align=None)
    threadschematic = revolve(axis=Axis((-3.175, 0, 0), (1, 0, 0)), mode=Mode.SUBTRACT)

    # ThdSchPat: ThreadSchematic ×11
    with Locations(*[(i * THDSCHPAT_PITCH, 0, 0) for i in range(1, THDSCHPAT_COUNT)]):
        add(threadschematic, mode=Mode.SUBTRACT)

    # Esboço1 → Ressalto-extrusão1 (add)
    with BuildSketch(Plane(origin=(1.6, 0, 0), x_dir=(0, 0, -1), z_dir=(1, 0, 0))):
        Circle(ESBO_O1_R)
    extrude(amount=-RESSALTO_EXTRUS_O1_DEPTH)


solid = part.part
